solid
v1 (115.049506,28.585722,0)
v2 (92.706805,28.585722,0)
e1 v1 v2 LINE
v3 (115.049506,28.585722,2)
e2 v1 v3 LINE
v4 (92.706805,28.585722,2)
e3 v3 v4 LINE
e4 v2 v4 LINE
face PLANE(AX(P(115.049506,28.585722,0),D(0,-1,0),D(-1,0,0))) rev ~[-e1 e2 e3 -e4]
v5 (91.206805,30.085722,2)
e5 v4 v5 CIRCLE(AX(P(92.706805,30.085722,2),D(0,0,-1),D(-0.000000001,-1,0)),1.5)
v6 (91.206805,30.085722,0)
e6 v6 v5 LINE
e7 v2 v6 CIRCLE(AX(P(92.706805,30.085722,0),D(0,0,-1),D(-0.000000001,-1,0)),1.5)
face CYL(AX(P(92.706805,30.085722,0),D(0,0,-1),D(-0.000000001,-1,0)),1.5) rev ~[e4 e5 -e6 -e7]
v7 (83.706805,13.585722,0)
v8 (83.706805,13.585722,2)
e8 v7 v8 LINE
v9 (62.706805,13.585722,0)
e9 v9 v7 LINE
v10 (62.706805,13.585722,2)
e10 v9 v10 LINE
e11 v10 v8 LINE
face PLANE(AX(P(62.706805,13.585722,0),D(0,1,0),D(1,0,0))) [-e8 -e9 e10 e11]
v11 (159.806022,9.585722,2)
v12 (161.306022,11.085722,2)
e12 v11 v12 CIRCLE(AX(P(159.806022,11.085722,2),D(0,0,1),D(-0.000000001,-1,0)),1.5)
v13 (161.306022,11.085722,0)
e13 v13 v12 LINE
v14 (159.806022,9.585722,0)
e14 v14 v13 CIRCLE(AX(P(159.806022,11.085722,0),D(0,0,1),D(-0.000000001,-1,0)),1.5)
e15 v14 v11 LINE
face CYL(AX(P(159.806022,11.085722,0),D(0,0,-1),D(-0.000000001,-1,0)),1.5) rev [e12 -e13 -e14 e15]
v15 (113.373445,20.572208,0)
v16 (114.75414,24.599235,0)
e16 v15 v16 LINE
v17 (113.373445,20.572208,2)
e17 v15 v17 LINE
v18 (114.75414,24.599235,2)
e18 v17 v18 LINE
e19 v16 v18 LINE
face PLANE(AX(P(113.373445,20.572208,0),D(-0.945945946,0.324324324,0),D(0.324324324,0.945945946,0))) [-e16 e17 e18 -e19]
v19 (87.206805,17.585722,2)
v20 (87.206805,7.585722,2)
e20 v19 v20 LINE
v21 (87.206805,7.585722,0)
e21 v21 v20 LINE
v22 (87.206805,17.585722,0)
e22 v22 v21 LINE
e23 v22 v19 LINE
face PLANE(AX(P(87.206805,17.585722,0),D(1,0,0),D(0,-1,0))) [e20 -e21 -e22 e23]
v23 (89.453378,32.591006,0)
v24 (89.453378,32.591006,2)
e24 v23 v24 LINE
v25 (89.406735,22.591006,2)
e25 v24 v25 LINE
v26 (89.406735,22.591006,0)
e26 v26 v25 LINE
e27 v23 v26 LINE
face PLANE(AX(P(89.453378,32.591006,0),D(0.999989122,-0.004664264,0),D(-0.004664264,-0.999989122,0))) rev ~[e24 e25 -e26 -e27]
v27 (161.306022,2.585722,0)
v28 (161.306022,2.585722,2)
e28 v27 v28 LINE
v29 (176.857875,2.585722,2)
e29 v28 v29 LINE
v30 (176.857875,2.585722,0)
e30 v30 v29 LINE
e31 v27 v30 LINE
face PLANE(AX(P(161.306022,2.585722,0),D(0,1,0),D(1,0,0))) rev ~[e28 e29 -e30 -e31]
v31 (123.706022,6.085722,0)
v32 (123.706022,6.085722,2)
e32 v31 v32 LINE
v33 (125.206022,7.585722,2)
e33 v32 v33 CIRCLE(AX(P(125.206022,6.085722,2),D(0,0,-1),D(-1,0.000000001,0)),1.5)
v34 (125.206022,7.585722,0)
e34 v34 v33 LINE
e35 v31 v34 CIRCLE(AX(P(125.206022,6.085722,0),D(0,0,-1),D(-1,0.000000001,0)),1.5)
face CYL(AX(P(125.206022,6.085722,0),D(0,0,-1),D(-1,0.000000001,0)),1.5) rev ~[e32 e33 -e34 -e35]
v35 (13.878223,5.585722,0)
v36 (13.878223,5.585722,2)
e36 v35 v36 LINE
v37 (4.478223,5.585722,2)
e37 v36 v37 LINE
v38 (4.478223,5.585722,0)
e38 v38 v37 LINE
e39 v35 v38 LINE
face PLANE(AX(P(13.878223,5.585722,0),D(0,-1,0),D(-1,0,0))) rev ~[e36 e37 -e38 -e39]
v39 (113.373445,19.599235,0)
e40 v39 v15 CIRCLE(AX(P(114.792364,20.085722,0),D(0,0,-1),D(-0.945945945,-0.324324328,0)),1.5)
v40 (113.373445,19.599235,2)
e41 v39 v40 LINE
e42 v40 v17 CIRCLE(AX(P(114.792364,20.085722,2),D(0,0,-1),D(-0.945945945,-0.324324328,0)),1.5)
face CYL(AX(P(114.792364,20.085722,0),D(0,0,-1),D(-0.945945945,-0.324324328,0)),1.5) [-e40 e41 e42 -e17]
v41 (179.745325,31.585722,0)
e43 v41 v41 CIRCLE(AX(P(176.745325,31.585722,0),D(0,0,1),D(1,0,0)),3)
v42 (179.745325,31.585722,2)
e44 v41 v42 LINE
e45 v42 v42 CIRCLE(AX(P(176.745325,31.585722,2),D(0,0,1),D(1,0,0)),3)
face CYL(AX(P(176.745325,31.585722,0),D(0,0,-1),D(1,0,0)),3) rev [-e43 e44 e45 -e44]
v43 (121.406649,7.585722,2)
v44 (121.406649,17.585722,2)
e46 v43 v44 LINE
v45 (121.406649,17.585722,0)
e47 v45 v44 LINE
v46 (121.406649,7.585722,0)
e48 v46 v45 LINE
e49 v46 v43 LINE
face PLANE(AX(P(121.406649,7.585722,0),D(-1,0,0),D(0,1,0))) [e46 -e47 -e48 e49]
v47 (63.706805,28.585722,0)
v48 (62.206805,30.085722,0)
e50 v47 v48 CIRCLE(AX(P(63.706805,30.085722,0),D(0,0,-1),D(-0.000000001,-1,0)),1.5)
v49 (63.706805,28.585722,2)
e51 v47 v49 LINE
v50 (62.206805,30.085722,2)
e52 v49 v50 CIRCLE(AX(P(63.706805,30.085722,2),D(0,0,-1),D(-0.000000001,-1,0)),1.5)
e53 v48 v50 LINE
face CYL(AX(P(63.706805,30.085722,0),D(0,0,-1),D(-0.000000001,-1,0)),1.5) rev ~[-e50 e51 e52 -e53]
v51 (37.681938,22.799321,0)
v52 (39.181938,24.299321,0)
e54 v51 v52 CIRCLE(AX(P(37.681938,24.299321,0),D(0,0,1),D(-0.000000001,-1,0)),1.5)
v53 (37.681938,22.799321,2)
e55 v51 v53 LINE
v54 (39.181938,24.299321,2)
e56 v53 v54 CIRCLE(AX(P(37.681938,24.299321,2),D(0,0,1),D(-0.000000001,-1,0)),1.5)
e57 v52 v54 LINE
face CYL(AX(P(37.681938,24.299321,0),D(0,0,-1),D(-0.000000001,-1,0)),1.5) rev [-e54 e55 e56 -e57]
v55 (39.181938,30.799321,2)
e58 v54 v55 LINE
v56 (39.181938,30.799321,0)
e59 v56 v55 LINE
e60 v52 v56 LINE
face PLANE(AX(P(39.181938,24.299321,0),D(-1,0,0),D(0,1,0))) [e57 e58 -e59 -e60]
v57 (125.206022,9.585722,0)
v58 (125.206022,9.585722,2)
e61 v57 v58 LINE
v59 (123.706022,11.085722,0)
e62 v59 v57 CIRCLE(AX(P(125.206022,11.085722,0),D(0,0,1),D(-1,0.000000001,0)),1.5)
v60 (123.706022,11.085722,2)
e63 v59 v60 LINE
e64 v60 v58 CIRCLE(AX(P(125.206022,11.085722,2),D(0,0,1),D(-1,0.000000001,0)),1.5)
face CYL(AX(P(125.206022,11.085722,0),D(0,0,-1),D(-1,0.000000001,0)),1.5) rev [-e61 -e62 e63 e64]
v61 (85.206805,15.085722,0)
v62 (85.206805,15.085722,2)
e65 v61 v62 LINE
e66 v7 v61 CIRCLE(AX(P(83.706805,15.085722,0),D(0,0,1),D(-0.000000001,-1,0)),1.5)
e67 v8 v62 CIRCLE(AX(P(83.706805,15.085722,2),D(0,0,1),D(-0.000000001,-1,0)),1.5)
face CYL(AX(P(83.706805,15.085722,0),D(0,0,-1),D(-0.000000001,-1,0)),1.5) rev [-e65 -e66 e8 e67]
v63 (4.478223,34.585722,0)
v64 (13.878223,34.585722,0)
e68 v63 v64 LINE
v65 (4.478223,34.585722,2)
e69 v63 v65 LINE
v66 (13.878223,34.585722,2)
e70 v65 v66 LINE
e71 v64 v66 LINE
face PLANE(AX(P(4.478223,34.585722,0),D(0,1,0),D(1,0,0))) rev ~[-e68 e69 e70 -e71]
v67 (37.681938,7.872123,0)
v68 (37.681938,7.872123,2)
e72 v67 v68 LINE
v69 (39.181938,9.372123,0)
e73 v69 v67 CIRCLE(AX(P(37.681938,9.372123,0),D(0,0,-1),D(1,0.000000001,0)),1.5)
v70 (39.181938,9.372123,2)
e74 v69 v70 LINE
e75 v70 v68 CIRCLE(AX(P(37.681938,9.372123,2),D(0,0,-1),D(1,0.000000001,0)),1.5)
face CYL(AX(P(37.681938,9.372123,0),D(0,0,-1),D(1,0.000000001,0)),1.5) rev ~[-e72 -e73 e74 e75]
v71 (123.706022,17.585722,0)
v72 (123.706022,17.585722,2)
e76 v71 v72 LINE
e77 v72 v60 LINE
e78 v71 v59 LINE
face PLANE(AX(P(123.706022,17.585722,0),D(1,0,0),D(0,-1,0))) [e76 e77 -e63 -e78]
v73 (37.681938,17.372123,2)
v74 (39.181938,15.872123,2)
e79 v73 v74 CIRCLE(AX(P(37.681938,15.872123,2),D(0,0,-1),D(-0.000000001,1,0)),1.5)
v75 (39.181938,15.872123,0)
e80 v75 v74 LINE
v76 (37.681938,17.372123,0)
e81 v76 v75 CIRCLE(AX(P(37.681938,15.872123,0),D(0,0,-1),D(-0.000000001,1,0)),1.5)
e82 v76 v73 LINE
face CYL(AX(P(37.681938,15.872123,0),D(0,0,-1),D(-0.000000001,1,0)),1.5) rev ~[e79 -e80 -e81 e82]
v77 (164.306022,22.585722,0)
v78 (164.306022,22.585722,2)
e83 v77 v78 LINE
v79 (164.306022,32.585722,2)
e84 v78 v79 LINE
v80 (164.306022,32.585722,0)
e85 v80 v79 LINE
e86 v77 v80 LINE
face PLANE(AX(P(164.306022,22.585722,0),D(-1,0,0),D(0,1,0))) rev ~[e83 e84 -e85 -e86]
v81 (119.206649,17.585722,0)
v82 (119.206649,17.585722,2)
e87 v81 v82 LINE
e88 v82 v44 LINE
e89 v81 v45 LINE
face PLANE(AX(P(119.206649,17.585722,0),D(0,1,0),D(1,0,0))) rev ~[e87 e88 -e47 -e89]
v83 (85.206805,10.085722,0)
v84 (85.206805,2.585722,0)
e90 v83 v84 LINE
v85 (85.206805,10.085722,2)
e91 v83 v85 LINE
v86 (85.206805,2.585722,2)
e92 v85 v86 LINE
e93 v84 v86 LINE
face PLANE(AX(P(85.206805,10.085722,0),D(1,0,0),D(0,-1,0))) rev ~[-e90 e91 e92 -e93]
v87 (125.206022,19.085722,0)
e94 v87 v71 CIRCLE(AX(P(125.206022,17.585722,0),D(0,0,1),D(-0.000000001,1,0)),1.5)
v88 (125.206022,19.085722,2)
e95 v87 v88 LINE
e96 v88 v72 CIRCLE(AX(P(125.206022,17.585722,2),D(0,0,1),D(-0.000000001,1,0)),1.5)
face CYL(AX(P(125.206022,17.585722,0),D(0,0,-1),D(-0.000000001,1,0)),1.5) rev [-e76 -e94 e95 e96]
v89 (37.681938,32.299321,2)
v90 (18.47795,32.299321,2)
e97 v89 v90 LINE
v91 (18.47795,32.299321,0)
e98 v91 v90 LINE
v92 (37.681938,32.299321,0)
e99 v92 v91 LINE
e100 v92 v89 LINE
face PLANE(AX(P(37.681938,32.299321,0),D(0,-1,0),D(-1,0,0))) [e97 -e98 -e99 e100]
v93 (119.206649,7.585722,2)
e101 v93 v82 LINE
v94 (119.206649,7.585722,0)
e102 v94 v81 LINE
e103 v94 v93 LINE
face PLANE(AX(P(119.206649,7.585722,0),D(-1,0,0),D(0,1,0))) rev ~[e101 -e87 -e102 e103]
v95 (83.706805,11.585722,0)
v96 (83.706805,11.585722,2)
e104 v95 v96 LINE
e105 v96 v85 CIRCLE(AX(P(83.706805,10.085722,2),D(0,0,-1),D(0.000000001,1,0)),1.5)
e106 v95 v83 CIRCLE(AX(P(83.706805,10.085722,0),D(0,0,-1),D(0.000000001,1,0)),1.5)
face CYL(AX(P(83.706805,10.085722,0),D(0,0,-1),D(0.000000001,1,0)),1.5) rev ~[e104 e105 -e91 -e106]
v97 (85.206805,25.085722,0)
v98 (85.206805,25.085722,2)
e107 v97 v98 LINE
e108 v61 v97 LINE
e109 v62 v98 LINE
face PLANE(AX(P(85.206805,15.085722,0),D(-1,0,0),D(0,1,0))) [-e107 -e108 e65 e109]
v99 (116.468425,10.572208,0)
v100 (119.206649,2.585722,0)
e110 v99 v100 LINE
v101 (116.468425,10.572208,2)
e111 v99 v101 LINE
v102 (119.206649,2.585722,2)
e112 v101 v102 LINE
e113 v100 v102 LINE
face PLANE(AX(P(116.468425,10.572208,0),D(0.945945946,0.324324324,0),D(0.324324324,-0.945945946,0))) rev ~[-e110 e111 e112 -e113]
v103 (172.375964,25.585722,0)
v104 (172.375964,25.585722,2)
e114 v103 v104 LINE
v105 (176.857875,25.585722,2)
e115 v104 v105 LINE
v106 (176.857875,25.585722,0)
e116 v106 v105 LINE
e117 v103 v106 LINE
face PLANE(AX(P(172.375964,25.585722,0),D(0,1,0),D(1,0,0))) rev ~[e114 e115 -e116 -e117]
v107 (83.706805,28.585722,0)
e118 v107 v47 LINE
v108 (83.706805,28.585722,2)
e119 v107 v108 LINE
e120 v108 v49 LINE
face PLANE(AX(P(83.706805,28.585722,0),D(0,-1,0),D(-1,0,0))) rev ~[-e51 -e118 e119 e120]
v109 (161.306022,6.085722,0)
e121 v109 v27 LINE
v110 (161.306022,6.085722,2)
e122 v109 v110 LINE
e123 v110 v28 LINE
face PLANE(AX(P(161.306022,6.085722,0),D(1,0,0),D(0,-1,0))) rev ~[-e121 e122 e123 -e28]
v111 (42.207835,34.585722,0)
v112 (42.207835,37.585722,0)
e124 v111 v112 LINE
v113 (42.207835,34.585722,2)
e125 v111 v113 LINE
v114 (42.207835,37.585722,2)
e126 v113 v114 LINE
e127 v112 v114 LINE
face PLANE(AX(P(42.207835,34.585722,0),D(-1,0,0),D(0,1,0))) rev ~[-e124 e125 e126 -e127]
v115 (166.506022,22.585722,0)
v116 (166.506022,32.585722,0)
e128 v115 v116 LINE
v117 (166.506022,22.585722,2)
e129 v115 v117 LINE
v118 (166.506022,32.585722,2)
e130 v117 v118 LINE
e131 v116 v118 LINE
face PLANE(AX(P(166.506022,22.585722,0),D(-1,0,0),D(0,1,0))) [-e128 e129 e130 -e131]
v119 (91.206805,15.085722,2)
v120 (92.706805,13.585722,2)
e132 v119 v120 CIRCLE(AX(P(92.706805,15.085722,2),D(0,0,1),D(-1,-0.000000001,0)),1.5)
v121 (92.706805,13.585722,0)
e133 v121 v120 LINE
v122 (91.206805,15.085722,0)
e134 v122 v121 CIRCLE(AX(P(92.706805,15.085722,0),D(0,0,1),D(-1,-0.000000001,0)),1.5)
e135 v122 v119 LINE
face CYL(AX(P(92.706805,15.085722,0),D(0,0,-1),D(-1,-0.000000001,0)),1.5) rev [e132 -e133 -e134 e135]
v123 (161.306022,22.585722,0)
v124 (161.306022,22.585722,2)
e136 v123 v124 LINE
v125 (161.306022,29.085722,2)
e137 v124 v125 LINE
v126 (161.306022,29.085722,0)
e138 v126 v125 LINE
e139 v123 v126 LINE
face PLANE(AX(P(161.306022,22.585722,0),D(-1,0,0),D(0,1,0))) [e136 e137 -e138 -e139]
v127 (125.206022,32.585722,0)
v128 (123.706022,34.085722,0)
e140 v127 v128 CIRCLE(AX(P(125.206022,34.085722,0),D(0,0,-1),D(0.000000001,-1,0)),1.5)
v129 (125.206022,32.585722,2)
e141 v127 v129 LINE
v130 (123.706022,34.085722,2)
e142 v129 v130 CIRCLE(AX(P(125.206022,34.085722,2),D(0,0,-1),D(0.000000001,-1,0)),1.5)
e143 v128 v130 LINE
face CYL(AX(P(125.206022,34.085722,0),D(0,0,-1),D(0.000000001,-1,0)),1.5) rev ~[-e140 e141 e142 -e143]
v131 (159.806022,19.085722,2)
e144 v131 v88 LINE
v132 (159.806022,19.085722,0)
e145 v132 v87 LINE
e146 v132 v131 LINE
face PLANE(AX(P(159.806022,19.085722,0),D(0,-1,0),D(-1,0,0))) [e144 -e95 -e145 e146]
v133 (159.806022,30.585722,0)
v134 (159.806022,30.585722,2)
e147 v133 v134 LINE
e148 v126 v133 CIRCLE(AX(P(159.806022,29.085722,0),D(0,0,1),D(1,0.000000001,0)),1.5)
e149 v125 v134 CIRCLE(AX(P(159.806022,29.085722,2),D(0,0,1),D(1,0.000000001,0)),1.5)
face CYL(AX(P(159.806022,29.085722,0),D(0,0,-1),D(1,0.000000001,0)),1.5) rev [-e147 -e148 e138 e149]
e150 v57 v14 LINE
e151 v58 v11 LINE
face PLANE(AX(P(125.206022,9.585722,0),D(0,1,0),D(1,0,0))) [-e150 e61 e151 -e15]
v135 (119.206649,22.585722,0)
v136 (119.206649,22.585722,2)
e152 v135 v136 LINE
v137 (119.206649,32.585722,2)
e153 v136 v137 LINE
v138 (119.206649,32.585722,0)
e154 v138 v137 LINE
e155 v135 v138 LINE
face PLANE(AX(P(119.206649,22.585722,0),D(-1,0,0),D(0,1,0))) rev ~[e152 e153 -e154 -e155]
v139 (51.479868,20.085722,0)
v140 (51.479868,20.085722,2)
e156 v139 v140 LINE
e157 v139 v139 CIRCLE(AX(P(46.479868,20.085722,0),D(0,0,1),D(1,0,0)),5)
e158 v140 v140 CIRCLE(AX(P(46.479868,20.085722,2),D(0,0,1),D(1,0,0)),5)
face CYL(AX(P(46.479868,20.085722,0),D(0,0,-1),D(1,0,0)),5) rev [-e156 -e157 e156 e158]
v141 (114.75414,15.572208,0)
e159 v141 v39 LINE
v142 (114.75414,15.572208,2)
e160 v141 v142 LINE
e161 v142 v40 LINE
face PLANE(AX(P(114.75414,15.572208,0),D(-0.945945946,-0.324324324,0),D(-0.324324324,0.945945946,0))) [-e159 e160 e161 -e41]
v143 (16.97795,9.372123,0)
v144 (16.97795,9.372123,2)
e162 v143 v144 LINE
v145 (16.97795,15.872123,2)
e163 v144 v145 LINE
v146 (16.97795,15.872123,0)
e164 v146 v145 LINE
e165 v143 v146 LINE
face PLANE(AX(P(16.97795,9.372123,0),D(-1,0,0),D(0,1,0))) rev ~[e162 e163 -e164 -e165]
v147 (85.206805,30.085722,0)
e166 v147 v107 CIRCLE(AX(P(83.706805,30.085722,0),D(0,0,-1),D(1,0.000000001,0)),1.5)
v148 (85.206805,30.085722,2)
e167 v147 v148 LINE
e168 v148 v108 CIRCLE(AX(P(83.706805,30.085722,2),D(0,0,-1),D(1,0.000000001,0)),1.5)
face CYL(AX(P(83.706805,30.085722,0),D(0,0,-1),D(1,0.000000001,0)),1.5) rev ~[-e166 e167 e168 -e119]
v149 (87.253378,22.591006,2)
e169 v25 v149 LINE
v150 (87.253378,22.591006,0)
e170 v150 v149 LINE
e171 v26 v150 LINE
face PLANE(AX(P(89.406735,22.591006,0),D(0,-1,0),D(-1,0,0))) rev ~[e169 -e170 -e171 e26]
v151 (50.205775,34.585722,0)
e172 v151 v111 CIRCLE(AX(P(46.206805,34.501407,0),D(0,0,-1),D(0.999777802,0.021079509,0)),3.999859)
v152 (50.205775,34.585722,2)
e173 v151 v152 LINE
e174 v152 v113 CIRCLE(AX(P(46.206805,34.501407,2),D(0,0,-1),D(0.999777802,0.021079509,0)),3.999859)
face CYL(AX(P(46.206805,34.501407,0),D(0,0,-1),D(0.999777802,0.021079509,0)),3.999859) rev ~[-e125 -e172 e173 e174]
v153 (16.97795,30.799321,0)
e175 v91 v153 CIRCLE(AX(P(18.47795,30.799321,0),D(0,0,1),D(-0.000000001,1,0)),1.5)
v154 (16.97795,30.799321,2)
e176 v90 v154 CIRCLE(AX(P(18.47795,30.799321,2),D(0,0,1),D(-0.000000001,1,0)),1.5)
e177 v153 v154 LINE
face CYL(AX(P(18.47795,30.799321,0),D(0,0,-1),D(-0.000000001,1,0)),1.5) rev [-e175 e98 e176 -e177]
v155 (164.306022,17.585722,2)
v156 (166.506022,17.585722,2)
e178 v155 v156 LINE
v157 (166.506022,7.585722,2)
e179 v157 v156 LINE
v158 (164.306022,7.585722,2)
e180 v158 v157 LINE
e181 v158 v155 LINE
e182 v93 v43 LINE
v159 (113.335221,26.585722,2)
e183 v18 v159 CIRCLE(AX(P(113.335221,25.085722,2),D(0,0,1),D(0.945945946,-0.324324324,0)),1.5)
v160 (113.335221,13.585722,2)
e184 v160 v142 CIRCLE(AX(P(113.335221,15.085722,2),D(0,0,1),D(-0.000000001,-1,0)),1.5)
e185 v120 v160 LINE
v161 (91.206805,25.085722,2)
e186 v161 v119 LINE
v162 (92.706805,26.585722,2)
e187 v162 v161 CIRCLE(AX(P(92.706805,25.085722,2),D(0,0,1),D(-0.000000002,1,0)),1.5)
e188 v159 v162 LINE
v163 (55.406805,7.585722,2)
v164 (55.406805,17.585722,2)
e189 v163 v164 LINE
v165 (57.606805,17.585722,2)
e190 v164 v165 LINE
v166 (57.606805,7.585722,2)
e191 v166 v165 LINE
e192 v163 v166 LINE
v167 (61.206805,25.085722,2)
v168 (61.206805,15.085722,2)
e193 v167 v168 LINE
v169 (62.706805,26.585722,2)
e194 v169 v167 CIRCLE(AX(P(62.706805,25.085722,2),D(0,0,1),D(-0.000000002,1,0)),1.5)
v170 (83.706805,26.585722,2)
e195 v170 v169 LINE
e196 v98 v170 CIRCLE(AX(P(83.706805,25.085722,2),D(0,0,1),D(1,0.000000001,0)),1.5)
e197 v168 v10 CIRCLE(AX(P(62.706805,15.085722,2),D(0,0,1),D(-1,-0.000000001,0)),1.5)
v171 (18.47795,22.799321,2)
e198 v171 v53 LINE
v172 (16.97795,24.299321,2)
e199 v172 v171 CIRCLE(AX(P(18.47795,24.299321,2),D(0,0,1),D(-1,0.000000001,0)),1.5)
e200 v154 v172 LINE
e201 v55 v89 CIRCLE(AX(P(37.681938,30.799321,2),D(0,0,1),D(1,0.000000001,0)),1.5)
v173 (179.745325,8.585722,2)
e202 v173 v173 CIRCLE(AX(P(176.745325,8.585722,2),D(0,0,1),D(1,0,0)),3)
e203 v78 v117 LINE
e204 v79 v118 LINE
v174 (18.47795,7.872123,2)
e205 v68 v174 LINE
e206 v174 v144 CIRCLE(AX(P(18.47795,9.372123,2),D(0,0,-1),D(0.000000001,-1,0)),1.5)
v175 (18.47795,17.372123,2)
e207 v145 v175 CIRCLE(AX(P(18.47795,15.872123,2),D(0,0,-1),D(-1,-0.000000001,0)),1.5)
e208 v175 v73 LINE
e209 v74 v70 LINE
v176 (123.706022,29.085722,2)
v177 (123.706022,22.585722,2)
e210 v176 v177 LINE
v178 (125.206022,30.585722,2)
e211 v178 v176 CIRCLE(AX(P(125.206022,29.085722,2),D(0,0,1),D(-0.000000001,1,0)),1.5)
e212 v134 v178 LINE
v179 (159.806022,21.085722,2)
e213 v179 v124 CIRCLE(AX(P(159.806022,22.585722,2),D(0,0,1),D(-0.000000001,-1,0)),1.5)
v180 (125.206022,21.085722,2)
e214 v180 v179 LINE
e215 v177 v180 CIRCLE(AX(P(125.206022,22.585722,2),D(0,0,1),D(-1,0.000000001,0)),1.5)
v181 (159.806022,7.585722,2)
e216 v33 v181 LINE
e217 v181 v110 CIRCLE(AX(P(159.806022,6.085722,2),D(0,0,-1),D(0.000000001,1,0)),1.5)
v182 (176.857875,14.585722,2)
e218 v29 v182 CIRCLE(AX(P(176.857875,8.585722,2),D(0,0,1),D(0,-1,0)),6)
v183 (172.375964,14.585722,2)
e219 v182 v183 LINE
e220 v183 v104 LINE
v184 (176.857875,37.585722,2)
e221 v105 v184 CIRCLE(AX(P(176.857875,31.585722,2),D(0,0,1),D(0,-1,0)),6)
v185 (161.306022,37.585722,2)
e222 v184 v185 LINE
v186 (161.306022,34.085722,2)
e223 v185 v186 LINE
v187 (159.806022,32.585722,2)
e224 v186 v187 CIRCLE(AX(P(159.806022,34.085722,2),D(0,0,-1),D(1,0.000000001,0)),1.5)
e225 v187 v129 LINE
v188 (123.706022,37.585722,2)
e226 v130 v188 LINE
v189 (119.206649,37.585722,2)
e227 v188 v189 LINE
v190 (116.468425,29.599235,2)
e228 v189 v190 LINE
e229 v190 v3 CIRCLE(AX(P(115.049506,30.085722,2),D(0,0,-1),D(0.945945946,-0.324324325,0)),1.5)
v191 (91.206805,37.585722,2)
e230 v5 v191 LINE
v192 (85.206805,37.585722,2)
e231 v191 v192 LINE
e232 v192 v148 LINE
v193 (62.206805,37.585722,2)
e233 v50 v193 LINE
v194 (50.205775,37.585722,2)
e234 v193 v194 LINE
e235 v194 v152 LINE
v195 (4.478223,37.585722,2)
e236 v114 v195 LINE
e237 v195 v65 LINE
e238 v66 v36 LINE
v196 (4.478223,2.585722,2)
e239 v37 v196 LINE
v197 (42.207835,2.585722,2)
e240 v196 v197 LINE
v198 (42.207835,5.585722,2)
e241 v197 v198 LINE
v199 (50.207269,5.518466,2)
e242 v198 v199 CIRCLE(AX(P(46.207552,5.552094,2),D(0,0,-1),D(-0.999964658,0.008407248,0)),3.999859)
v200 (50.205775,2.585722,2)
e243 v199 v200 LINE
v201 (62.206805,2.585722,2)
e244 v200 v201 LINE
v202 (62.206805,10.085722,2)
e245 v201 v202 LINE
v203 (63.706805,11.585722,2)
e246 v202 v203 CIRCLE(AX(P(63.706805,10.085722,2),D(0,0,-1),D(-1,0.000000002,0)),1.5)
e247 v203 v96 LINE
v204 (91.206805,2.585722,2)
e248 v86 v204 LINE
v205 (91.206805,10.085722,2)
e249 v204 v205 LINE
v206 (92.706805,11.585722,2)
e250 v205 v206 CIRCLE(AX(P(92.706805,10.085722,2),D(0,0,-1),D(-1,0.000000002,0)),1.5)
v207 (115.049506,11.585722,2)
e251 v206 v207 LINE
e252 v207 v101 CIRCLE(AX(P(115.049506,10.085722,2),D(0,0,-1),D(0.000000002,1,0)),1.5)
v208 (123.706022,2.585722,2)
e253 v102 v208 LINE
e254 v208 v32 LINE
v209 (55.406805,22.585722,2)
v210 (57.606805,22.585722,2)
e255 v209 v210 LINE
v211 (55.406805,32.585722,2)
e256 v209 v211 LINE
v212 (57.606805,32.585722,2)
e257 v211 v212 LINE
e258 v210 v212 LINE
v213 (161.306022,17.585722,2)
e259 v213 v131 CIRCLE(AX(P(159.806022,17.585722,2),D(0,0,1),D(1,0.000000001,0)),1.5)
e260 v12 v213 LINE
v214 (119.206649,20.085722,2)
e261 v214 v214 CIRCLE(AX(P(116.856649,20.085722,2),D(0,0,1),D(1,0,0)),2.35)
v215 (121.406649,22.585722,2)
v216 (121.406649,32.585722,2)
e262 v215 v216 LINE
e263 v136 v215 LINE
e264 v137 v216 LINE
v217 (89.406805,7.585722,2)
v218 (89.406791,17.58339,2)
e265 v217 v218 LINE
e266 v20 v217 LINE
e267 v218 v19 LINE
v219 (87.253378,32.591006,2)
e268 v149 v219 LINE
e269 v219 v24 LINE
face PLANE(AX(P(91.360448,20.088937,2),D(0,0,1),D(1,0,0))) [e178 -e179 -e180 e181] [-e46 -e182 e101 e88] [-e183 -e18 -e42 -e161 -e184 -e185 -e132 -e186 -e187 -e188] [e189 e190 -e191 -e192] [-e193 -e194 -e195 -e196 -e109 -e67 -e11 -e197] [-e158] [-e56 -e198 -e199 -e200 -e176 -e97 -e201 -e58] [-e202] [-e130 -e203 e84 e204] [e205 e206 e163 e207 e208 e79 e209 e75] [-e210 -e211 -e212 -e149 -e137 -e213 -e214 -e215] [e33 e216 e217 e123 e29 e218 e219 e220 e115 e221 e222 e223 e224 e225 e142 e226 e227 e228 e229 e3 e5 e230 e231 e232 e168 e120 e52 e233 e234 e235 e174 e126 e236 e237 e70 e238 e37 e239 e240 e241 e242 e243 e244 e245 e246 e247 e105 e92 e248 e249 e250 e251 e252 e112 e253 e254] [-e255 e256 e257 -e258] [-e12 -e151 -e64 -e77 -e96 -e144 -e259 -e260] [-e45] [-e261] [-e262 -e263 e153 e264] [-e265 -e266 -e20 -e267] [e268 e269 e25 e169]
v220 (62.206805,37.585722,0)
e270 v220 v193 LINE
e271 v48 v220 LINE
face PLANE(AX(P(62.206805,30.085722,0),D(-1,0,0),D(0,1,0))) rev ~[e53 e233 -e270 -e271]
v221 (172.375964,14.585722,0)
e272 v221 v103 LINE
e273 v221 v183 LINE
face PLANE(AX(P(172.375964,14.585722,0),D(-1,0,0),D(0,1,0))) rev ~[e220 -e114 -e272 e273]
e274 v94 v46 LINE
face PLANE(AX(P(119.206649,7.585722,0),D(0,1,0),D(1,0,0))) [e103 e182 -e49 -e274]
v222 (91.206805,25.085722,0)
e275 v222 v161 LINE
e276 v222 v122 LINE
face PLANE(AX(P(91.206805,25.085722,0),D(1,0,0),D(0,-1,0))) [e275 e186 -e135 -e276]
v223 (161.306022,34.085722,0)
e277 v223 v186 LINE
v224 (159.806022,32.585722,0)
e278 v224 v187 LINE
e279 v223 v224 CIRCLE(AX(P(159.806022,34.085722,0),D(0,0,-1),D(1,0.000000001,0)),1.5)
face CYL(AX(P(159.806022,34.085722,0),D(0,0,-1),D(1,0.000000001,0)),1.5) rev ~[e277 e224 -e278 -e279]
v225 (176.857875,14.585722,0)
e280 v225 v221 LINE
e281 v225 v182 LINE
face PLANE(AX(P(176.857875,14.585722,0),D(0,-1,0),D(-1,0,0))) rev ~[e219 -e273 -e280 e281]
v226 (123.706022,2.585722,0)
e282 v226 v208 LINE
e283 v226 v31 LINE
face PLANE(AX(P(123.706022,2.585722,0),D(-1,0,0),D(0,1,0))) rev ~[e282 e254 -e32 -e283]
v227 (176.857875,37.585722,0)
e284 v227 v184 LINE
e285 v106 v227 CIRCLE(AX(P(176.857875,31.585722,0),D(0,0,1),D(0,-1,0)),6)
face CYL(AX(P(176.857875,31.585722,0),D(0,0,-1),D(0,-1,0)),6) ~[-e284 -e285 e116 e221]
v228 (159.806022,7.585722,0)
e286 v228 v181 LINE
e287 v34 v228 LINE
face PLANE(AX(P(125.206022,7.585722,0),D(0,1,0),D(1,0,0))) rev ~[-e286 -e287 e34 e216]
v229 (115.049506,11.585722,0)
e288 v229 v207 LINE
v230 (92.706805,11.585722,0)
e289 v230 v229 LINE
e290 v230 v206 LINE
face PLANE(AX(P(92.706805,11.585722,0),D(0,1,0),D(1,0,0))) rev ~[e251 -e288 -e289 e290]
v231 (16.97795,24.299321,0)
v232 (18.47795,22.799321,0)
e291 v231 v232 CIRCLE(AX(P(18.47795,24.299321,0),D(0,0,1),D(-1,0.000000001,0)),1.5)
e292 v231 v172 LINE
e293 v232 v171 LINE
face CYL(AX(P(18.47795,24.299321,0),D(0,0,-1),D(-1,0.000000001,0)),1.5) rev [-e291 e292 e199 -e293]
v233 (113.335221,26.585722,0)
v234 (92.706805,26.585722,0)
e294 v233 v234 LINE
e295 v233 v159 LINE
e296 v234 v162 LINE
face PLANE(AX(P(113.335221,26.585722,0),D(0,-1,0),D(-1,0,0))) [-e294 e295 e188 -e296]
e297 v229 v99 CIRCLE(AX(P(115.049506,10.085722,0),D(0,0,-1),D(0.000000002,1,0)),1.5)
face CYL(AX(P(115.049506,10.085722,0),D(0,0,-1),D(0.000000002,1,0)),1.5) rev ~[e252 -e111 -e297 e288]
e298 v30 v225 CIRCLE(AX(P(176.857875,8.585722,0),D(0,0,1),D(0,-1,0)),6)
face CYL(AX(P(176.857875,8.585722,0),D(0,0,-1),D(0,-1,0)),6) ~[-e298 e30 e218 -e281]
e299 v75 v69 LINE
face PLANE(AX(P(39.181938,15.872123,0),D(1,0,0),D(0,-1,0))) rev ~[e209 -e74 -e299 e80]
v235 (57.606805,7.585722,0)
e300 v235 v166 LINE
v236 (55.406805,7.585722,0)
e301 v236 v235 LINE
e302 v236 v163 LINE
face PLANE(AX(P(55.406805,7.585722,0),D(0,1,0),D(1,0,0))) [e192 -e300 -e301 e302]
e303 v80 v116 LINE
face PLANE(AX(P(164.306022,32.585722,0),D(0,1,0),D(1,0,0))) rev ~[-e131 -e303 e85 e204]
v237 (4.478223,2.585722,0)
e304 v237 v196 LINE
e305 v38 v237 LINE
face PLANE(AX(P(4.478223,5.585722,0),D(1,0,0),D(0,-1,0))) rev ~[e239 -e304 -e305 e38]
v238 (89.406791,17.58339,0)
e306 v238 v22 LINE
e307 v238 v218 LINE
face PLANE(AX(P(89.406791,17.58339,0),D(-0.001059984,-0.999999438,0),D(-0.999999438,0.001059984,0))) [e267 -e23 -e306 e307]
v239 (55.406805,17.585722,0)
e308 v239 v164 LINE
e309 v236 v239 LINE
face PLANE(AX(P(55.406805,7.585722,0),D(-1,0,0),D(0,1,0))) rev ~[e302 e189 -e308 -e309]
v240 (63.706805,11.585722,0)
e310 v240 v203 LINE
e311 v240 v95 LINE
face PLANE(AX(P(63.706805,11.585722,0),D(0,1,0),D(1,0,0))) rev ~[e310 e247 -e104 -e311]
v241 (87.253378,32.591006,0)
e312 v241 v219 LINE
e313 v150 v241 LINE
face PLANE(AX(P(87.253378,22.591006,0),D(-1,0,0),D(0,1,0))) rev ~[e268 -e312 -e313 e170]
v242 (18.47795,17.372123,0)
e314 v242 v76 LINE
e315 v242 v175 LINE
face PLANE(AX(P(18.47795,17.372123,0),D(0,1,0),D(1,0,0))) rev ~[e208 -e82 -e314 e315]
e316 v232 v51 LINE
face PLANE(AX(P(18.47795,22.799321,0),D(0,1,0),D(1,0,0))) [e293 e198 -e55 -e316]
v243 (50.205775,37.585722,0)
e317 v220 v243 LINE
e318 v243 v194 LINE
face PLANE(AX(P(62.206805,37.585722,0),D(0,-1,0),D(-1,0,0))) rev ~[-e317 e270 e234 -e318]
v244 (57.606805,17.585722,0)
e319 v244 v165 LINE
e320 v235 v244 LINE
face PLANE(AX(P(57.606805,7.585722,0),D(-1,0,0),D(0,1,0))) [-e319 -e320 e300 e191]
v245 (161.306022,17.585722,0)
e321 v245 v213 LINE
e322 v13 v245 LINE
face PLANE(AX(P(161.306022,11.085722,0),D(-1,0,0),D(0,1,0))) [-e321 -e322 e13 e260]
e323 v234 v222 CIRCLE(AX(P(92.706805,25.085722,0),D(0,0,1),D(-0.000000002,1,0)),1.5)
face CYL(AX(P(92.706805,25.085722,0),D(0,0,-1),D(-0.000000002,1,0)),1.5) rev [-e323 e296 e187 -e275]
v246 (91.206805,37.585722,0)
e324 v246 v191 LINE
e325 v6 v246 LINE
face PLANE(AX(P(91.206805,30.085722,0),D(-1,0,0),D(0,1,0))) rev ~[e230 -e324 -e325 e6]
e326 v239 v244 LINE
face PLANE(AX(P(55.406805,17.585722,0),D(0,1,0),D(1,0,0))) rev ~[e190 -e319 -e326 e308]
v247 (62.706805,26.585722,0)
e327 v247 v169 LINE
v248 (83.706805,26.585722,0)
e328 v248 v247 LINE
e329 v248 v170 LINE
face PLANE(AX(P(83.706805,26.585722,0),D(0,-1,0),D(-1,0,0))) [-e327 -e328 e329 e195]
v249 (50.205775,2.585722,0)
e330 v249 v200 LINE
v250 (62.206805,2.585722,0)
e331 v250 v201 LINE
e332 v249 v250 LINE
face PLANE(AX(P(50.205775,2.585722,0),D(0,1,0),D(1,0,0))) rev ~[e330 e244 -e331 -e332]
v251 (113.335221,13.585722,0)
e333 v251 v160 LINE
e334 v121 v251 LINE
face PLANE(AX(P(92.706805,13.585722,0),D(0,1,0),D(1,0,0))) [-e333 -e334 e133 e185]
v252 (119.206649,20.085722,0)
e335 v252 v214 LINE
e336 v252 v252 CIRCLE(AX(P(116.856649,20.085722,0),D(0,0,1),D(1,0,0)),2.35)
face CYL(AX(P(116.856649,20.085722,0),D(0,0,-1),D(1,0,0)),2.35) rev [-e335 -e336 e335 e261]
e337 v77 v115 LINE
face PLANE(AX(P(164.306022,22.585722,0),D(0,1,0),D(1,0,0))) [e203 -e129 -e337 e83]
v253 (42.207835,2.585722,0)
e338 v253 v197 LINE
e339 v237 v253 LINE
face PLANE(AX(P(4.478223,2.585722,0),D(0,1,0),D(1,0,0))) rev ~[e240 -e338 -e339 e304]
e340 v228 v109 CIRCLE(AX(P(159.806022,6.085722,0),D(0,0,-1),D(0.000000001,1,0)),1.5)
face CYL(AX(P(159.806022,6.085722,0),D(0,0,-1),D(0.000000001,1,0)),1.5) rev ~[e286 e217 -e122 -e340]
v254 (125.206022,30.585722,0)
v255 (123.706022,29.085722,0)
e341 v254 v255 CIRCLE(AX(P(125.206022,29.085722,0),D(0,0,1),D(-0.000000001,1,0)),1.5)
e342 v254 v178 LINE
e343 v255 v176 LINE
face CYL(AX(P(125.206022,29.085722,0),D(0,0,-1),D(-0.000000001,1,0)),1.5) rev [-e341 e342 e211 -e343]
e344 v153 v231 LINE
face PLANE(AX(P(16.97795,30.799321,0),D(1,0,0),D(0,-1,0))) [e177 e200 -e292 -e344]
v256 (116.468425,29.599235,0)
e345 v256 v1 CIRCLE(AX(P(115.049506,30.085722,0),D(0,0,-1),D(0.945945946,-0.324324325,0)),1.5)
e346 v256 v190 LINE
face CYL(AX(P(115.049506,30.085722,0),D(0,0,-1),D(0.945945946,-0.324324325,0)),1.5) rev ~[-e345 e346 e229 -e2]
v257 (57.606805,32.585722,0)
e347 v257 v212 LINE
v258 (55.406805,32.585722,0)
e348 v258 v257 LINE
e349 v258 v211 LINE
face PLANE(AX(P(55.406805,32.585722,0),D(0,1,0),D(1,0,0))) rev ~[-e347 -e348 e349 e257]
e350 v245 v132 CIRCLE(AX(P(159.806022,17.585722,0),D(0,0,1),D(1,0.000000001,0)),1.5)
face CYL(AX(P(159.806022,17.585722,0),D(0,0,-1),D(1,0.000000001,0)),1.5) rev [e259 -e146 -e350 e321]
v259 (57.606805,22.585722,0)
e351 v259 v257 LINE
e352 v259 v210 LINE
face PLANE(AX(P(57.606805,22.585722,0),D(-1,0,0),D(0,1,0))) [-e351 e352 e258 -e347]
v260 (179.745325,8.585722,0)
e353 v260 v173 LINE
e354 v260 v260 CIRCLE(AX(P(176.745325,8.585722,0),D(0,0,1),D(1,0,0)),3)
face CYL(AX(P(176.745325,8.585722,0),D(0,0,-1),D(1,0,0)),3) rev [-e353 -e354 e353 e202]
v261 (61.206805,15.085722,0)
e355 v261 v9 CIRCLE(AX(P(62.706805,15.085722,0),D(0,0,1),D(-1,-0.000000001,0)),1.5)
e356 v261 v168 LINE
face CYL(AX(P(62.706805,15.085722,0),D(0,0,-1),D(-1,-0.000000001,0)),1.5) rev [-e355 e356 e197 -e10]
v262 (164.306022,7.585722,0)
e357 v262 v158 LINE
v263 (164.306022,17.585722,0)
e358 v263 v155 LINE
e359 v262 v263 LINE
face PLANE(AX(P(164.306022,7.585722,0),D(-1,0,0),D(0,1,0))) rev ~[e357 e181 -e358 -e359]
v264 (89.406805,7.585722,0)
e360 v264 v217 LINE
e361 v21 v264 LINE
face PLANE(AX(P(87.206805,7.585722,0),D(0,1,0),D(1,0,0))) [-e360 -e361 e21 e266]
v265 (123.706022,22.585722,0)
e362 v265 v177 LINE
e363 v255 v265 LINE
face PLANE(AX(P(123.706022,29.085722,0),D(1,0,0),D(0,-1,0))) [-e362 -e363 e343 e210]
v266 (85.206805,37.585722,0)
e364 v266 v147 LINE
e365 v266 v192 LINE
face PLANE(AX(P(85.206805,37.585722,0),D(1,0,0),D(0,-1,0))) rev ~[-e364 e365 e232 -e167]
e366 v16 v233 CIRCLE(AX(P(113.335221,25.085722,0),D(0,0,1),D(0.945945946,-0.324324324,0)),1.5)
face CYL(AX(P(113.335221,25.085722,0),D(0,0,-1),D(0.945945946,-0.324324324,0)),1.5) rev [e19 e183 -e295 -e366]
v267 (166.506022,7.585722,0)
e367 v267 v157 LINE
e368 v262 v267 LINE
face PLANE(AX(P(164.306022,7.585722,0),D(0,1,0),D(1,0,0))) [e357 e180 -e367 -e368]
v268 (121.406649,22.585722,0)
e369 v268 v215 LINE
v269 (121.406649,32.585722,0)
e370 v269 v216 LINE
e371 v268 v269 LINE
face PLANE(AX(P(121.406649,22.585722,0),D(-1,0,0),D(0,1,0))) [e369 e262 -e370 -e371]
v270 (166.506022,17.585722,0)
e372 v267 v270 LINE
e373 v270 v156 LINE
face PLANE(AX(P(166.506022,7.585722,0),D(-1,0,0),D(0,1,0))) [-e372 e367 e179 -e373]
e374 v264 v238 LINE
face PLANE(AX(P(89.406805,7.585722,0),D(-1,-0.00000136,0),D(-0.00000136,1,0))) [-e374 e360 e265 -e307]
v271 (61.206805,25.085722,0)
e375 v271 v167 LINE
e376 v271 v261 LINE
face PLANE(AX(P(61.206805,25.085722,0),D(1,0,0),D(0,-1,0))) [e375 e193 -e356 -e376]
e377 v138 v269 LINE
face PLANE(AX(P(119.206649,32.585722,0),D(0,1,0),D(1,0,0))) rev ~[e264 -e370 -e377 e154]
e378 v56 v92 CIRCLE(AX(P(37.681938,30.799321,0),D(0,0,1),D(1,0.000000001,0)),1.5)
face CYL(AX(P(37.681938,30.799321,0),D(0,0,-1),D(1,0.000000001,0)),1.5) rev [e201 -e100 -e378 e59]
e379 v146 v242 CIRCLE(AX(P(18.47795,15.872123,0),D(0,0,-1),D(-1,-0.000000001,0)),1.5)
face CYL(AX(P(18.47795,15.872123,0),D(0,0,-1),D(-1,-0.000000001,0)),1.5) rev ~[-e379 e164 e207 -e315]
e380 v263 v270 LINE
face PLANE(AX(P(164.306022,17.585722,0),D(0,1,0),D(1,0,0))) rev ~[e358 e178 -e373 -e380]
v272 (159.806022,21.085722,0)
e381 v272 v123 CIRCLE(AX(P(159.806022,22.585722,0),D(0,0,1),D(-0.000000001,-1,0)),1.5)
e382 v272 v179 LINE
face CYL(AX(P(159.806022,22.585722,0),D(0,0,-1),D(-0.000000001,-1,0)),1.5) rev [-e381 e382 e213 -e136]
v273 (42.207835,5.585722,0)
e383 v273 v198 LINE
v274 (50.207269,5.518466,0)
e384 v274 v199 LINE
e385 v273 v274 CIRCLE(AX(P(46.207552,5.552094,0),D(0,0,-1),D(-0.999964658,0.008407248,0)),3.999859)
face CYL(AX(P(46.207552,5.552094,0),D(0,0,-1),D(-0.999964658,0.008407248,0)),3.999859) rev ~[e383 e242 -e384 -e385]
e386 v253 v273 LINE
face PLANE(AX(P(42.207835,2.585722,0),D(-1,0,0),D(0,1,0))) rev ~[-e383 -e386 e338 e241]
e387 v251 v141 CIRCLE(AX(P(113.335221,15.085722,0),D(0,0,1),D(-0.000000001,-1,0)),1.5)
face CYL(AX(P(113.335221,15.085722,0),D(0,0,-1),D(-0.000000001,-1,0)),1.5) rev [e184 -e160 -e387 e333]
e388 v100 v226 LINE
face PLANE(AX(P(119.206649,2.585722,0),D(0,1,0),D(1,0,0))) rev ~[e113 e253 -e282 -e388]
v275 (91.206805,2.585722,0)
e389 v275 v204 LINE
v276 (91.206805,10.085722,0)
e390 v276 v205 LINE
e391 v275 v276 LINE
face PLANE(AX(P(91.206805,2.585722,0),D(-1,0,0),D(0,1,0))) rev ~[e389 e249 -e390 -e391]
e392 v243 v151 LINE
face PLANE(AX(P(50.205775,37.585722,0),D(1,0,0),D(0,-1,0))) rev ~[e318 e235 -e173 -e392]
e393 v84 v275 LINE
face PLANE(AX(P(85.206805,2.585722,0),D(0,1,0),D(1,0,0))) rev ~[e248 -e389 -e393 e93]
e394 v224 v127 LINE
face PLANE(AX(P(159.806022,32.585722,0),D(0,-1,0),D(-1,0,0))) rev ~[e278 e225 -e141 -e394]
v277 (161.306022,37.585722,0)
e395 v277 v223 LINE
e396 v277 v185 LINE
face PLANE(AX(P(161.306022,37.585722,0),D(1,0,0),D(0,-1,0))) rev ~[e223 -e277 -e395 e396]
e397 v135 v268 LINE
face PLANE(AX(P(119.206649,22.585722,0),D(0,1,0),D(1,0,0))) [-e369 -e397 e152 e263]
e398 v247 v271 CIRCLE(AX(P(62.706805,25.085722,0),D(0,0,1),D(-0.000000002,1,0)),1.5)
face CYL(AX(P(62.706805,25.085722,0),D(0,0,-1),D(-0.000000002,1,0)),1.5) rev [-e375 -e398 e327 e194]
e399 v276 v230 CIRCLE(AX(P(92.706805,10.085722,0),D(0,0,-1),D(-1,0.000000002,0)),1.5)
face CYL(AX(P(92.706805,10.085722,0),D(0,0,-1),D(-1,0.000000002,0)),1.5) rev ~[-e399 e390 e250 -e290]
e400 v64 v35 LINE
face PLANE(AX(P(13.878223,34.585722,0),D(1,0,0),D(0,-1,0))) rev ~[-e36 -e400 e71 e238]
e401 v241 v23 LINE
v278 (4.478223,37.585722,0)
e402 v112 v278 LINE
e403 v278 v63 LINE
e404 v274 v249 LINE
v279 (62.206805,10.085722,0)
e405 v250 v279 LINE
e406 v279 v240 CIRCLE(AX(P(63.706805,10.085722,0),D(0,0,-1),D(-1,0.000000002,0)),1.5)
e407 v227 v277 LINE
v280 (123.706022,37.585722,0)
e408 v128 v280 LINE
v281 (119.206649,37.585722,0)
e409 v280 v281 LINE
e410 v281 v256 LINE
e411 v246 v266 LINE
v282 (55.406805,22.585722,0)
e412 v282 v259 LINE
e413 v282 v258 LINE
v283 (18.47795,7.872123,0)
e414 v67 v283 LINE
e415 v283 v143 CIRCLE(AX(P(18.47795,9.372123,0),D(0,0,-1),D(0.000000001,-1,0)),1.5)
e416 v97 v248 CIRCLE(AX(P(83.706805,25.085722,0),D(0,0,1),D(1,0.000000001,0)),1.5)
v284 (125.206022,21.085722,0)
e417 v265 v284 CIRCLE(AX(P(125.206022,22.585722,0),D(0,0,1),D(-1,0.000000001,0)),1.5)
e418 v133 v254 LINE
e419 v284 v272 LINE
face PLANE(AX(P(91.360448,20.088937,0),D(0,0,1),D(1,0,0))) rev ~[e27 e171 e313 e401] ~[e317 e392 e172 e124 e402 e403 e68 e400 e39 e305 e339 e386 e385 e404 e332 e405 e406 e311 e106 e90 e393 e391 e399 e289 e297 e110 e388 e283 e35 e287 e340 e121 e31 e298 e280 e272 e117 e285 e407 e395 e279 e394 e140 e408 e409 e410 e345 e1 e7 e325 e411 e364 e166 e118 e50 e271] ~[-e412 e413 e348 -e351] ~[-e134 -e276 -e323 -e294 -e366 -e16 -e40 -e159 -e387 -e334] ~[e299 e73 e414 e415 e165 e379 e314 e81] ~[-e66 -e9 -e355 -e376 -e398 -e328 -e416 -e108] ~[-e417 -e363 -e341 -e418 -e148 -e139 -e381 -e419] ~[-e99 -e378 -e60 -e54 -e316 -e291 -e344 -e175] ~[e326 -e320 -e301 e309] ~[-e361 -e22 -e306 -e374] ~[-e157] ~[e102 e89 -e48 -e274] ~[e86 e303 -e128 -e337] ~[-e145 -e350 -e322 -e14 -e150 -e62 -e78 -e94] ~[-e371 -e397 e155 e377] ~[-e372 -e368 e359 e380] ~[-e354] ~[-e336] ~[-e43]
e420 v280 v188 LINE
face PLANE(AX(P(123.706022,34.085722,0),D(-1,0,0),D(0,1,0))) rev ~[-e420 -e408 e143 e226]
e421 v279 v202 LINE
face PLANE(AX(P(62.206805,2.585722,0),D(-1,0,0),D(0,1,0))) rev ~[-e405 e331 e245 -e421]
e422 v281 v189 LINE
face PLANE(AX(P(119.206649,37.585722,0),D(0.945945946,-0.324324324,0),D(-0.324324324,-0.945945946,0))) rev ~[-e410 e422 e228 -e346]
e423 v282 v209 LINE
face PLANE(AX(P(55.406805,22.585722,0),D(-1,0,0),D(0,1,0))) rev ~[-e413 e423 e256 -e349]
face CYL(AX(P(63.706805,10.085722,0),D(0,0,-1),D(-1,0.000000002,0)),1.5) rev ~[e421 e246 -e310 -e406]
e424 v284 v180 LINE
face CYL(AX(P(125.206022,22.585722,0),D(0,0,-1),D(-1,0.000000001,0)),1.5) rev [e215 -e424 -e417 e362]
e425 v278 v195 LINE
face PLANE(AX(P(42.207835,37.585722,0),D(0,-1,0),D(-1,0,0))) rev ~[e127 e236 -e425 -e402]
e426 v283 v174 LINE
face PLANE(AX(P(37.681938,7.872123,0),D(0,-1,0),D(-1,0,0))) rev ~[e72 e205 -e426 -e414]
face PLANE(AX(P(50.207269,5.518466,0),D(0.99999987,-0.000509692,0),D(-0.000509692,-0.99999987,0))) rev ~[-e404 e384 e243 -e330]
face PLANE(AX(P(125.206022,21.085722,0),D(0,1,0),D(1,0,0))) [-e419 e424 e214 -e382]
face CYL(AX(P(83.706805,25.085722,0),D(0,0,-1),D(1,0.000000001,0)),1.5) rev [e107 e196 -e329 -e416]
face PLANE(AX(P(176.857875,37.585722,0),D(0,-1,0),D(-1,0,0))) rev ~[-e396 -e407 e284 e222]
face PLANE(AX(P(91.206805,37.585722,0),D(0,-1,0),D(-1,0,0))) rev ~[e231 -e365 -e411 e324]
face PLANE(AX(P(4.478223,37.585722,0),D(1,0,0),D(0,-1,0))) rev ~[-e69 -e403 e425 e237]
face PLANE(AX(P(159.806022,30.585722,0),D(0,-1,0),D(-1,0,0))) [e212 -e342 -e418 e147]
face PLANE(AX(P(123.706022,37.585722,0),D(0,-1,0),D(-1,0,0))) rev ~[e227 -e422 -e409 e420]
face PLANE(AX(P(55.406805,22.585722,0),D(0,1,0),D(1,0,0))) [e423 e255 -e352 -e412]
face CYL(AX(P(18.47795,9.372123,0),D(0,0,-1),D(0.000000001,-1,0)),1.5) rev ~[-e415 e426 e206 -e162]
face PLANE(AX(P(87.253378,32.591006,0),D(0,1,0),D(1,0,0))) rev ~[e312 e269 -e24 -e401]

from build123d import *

# Parameters (mm, degrees)
MODEL_R         = 3
MODEL_R_2       = 2.35
MODEL_R_3       = 5
MODEL_W         = 2.2
MODEL_H         = 10
EXTRUDE_1_DEPTH = 2


with BuildPart() as part:
    # Model → 凸台-拉伸1 (new body)
    with BuildSketch(Plane.XY):
        with BuildLine():
            Line((42.207834759, 34.585721775), (42.207834759, 37.585721775))
            Line((42.207834759, 37.585721775), (4.478222617, 37.585721775))
            Line((4.478222617, 37.585721775), (4.478222617, 34.585721775))
            Line((4.478222617, 34.585721775), (13.878222617, 34.585721775))
            Line((13.878222617, 34.585721775), (13.878222617, 5.585721775))
            Line((13.878222617, 5.585721775), (4.478222617, 5.585721775))
            Line((4.478222617, 5.585721775), (4.478222617, 2.585721775))
            Line((4.478222617, 2.585721775), (42.207834759, 2.585721775))
            Line((42.207834759, 2.585721775), (42.207834759, 5.585721775))
            ThreePointArc((42.207834759, 5.585721775), (46.241179833, 9.551811246), (50.207269305, 5.518466173))
            Line((50.207269305, 5.518466173), (50.205774509, 2.585721775))
            Line((50.205774509, 2.585721775), (62.206804634, 2.585721775))
            Line((62.206804634, 2.585721775), (62.206804634, 10.085721775))
            ThreePointArc((62.206804634, 10.085721775), (62.646144463, 11.146381946), (63.706804634, 11.585721775))
            Line((63.706804634, 11.585721775), (83.706804634, 11.585721775))
            ThreePointArc((83.706804634, 11.585721775), (84.767464806, 11.146381946), (85.206804634, 10.085721775))
            Line((85.206804634, 10.085721775), (85.206804634, 2.585721775))
            Line((85.206804634, 2.585721775), (91.206804634, 2.585721775))
            Line((91.206804634, 2.585721775), (91.206804634, 10.085721775))
            ThreePointArc((91.206804634, 10.085721775), (91.646144463, 11.146381946), (92.706804634, 11.585721775))
            Line((92.706804634, 11.585721775), (115.049506416, 11.585721775))
            ThreePointArc((115.049506416, 11.585721775), (115.921363706, 11.306321981), (116.468425335, 10.572208261))
            Line((116.468425335, 10.572208261), (119.206649273, 2.585721775))
            Line((119.206649273, 2.585721775), (123.706021861, 2.585721775))
            Line((123.706021861, 2.585721775), (123.706021861, 6.085721775))
            ThreePointArc((123.706021861, 6.085721775), (124.145361689, 7.146381946), (125.206021861, 7.585721775))
            Line((125.206021861, 7.585721775), (159.806021861, 7.585721775))
            ThreePointArc((159.806021861, 7.585721775), (160.866682033, 7.146381946), (161.306021861, 6.085721775))
            Line((161.306021861, 6.085721775), (161.306021861, 2.585721775))
            Line((161.306021861, 2.585721775), (176.857875106, 2.585721775))
            ThreePointArc((176.857875106, 2.585721775), (182.857875106, 8.585721775), (176.857875106, 14.585721775))
            Line((176.857875106, 14.585721775), (172.375964349, 14.585721775))
            Line((172.375964349, 14.585721775), (172.375964349, 25.585721775))
            Line((172.375964349, 25.585721775), (176.857875106, 25.585721775))
            ThreePointArc((176.857875106, 25.585721775), (182.857875106, 31.585721775), (176.857875106, 37.585721775))
            Line((176.857875106, 37.585721775), (161.306021861, 37.585721775))
            Line((161.306021861, 37.585721775), (161.306021861, 34.085721775))
            ThreePointArc((161.306021861, 34.085721775), (160.866682033, 33.025061603), (159.806021861, 32.585721775))
            Line((159.806021861, 32.585721775), (125.206021861, 32.585721775))
            ThreePointArc((125.206021861, 32.585721775), (124.145361689, 33.025061603), (123.706021861, 34.085721775))
            Line((123.706021861, 34.085721775), (123.706021861, 37.585721775))
            Line((123.706021861, 37.585721775), (119.206649273, 37.585721775))
            Line((119.206649273, 37.585721775), (116.468425335, 29.599235288))
            ThreePointArc((116.468425335, 29.599235288), (115.921363706, 28.865121568), (115.049506416, 28.585721775))
            Line((115.049506416, 28.585721775), (92.706804634, 28.585721775))
            ThreePointArc((92.706804634, 28.585721775), (91.646144463, 29.025061603), (91.206804634, 30.085721775))
            Line((91.206804634, 30.085721775), (91.206804634, 37.585721775))
            Line((91.206804634, 37.585721775), (85.206804634, 37.585721775))
            Line((85.206804634, 37.585721775), (85.206804634, 30.085721775))
            ThreePointArc((85.206804634, 30.085721775), (84.767464806, 29.025061603), (83.706804634, 28.585721775))
            Line((83.706804634, 28.585721775), (63.706804634, 28.585721775))
            ThreePointArc((63.706804634, 28.585721775), (62.646144463, 29.025061603), (62.206804634, 30.085721775))
            Line((62.206804634, 30.085721775), (62.206804634, 37.585721775))
            Line((62.206804634, 37.585721775), (50.205774509, 37.585721775))
            Line((50.205774509, 37.585721775), (50.205774509, 34.585721775))
            ThreePointArc((50.205774509, 34.585721775), (46.206804634, 30.501548086), (42.207834759, 34.585721775))
        make_face()
        with Locations((176.745324773, 8.585721775)):
            Circle(MODEL_R, mode=Mode.SUBTRACT)
        with Locations((176.745324773, 31.585721775)):
            Circle(MODEL_R, mode=Mode.SUBTRACT)
        with Locations((116.856649273, 20.085721775)):
            Circle(MODEL_R_2, mode=Mode.SUBTRACT)
        with Locations((46.479868031, 20.085721775)):
            Circle(MODEL_R_3, mode=Mode.SUBTRACT)
        with BuildLine():
            Line((161.306021861, 22.585721775), (161.306021861, 29.085721775))
            ThreePointArc((161.306021861, 29.085721775), (160.866682033, 30.146381946), (159.806021861, 30.585721775))
            Line((159.806021861, 30.585721775), (125.206021861, 30.585721775))
            ThreePointArc((125.206021861, 30.585721775), (124.145361689, 30.146381946), (123.706021861, 29.085721775))
            Line((123.706021861, 29.085721775), (123.706021861, 22.585721775))
            ThreePointArc((123.706021861, 22.585721775), (124.145361689, 21.525061603), (125.206021861, 21.085721775))
            Line((125.206021861, 21.085721775), (159.806021861, 21.085721775))
            ThreePointArc((159.806021861, 21.085721775), (160.866682033, 21.525061603), (161.306021861, 22.585721775))
        make_face(mode=Mode.SUBTRACT)
        with BuildLine():
            Line((123.706021861, 17.585721775), (123.706021861, 11.085721775))
            ThreePointArc((123.706021861, 11.085721775), (124.145361689, 10.025061603), (125.206021861, 9.585721775))
            Line((125.206021861, 9.585721775), (159.806021861, 9.585721775))
            ThreePointArc((159.806021861, 9.585721775), (160.866682033, 10.025061603), (161.306021861, 11.085721775))
            Line((161.306021861, 11.085721775), (161.306021861, 17.585721775))
            ThreePointArc((161.306021861, 17.585721775), (160.866682033, 18.646381946), (159.806021861, 19.085721775))
            Line((159.806021861, 19.085721775), (125.206021861, 19.085721775))
            ThreePointArc((125.206021861, 19.085721775), (124.145361689, 18.646381946), (123.706021861, 17.585721775))
        make_face(mode=Mode.SUBTRACT)
        with Locations((56.506804634, 12.585721775)):
            Rectangle(MODEL_W, MODEL_H, mode=Mode.SUBTRACT)
        with Locations((56.506804634, 27.585721775)):
            Rectangle(MODEL_W, MODEL_H, mode=Mode.SUBTRACT)
        with Locations((165.406021861, 12.585721775)):
            Rectangle(MODEL_W, MODEL_H, mode=Mode.SUBTRACT)
        with Locations((165.406021861, 27.585721775)):
            Rectangle(MODEL_W, MODEL_H, mode=Mode.SUBTRACT)
        with Locations((120.306649273, 12.585721775)):
            Rectangle(MODEL_W, MODEL_H, mode=Mode.SUBTRACT)
        with Locations((120.306649273, 27.585721775)):
            Rectangle(MODEL_W, MODEL_H, mode=Mode.SUBTRACT)
        Polygon((87.206804634, 7.585721775), (89.406804634, 7.585721775), (89.406791039, 17.583389823), (87.206804634, 17.585721775), align=None, mode=Mode.SUBTRACT)
        Polygon((87.253377966, 32.591005683), (89.453377966, 32.591005683), (89.406734823, 22.591005683), (87.253377966, 22.591005683), align=None, mode=Mode.SUBTRACT)
        with BuildLine():
            Line((62.706804634, 13.585721775), (83.706804634, 13.585721775))
            ThreePointArc((83.706804634, 13.585721775), (84.767464806, 14.025061603), (85.206804634, 15.085721775))
            Line((85.206804634, 15.085721775), (85.206804634, 25.085721775))
            ThreePointArc((85.206804634, 25.085721775), (84.767464806, 26.146381946), (83.706804634, 26.585721775))
            Line((83.706804634, 26.585721775), (62.706804634, 26.585721775))
            ThreePointArc((62.706804634, 26.585721775), (61.646144463, 26.146381946), (61.206804634, 25.085721775))
            Line((61.206804634, 25.085721775), (61.206804634, 15.085721775))
            ThreePointArc((61.206804634, 15.085721775), (61.646144463, 14.025061603), (62.706804634, 13.585721775))
        make_face(mode=Mode.SUBTRACT)
        with BuildLine():
            Line((113.335220701, 26.585721775), (92.706804634, 26.585721775))
            ThreePointArc((92.706804634, 26.585721775), (91.646144463, 26.146381946), (91.206804634, 25.085721775))
            Line((91.206804634, 25.085721775), (91.206804634, 15.085721775))
            ThreePointArc((91.206804634, 15.085721775), (91.646144463, 14.025061603), (92.706804634, 13.585721775))
            Line((92.706804634, 13.585721775), (113.335220701, 13.585721775))
            ThreePointArc((113.335220701, 13.585721775), (114.555820908, 14.213864484), (114.75413962, 15.572208261))
            Line((114.75413962, 15.572208261), (113.37344464, 19.599235288))
            ThreePointArc((113.37344464, 19.599235288), (113.292363558, 20.085721775), (113.37344464, 20.572208261))
            Line((113.37344464, 20.572208261), (114.75413962, 24.599235288))
            ThreePointArc((114.75413962, 24.599235288), (114.555820908, 25.957579065), (113.335220701, 26.585721775))
        make_face(mode=Mode.SUBTRACT)
        with BuildLine():
            Line((18.477950078, 22.799320708), (37.681937895, 22.799320708))
            ThreePointArc((37.681937895, 22.799320708), (38.742598067, 23.238660536), (39.181937895, 24.299320708))
            Line((39.181937895, 24.299320708), (39.181937895, 30.799320708))
            ThreePointArc((39.181937895, 30.799320708), (38.742598067, 31.859980879), (37.681937895, 32.299320708))
            Line((37.681937895, 32.299320708), (18.477950078, 32.299320708))
            ThreePointArc((18.477950078, 32.299320708), (17.417289906, 31.859980879), (16.977950078, 30.799320708))
            Line((16.977950078, 30.799320708), (16.977950078, 24.299320708))
            ThreePointArc((16.977950078, 24.299320708), (17.417289906, 23.238660536), (18.477950078, 22.799320708))
        make_face(mode=Mode.SUBTRACT)
        with BuildLine():
            Line((18.477950078, 17.372122842), (37.681937895, 17.372122842))
            ThreePointArc((37.681937895, 17.372122842), (38.742598067, 16.932783014), (39.181937895, 15.872122842))
            Line((39.181937895, 15.872122842), (39.181937895, 9.372122842))
            ThreePointArc((39.181937895, 9.372122842), (38.742598067, 8.31146267), (37.681937895, 7.872122842))
            Line((37.681937895, 7.872122842), (18.477950078, 7.872122842))
            ThreePointArc((18.477950078, 7.872122842), (17.417289906, 8.31146267), (16.977950078, 9.372122842))
            Line((16.977950078, 9.372122842), (16.977950078, 15.872122842))
            ThreePointArc((16.977950078, 15.872122842), (17.417289906, 16.932783014), (18.477950078, 17.372122842))
        make_face(mode=Mode.SUBTRACT)
    extrude(amount=EXTRUDE_1_DEPTH)


solid = part.part
